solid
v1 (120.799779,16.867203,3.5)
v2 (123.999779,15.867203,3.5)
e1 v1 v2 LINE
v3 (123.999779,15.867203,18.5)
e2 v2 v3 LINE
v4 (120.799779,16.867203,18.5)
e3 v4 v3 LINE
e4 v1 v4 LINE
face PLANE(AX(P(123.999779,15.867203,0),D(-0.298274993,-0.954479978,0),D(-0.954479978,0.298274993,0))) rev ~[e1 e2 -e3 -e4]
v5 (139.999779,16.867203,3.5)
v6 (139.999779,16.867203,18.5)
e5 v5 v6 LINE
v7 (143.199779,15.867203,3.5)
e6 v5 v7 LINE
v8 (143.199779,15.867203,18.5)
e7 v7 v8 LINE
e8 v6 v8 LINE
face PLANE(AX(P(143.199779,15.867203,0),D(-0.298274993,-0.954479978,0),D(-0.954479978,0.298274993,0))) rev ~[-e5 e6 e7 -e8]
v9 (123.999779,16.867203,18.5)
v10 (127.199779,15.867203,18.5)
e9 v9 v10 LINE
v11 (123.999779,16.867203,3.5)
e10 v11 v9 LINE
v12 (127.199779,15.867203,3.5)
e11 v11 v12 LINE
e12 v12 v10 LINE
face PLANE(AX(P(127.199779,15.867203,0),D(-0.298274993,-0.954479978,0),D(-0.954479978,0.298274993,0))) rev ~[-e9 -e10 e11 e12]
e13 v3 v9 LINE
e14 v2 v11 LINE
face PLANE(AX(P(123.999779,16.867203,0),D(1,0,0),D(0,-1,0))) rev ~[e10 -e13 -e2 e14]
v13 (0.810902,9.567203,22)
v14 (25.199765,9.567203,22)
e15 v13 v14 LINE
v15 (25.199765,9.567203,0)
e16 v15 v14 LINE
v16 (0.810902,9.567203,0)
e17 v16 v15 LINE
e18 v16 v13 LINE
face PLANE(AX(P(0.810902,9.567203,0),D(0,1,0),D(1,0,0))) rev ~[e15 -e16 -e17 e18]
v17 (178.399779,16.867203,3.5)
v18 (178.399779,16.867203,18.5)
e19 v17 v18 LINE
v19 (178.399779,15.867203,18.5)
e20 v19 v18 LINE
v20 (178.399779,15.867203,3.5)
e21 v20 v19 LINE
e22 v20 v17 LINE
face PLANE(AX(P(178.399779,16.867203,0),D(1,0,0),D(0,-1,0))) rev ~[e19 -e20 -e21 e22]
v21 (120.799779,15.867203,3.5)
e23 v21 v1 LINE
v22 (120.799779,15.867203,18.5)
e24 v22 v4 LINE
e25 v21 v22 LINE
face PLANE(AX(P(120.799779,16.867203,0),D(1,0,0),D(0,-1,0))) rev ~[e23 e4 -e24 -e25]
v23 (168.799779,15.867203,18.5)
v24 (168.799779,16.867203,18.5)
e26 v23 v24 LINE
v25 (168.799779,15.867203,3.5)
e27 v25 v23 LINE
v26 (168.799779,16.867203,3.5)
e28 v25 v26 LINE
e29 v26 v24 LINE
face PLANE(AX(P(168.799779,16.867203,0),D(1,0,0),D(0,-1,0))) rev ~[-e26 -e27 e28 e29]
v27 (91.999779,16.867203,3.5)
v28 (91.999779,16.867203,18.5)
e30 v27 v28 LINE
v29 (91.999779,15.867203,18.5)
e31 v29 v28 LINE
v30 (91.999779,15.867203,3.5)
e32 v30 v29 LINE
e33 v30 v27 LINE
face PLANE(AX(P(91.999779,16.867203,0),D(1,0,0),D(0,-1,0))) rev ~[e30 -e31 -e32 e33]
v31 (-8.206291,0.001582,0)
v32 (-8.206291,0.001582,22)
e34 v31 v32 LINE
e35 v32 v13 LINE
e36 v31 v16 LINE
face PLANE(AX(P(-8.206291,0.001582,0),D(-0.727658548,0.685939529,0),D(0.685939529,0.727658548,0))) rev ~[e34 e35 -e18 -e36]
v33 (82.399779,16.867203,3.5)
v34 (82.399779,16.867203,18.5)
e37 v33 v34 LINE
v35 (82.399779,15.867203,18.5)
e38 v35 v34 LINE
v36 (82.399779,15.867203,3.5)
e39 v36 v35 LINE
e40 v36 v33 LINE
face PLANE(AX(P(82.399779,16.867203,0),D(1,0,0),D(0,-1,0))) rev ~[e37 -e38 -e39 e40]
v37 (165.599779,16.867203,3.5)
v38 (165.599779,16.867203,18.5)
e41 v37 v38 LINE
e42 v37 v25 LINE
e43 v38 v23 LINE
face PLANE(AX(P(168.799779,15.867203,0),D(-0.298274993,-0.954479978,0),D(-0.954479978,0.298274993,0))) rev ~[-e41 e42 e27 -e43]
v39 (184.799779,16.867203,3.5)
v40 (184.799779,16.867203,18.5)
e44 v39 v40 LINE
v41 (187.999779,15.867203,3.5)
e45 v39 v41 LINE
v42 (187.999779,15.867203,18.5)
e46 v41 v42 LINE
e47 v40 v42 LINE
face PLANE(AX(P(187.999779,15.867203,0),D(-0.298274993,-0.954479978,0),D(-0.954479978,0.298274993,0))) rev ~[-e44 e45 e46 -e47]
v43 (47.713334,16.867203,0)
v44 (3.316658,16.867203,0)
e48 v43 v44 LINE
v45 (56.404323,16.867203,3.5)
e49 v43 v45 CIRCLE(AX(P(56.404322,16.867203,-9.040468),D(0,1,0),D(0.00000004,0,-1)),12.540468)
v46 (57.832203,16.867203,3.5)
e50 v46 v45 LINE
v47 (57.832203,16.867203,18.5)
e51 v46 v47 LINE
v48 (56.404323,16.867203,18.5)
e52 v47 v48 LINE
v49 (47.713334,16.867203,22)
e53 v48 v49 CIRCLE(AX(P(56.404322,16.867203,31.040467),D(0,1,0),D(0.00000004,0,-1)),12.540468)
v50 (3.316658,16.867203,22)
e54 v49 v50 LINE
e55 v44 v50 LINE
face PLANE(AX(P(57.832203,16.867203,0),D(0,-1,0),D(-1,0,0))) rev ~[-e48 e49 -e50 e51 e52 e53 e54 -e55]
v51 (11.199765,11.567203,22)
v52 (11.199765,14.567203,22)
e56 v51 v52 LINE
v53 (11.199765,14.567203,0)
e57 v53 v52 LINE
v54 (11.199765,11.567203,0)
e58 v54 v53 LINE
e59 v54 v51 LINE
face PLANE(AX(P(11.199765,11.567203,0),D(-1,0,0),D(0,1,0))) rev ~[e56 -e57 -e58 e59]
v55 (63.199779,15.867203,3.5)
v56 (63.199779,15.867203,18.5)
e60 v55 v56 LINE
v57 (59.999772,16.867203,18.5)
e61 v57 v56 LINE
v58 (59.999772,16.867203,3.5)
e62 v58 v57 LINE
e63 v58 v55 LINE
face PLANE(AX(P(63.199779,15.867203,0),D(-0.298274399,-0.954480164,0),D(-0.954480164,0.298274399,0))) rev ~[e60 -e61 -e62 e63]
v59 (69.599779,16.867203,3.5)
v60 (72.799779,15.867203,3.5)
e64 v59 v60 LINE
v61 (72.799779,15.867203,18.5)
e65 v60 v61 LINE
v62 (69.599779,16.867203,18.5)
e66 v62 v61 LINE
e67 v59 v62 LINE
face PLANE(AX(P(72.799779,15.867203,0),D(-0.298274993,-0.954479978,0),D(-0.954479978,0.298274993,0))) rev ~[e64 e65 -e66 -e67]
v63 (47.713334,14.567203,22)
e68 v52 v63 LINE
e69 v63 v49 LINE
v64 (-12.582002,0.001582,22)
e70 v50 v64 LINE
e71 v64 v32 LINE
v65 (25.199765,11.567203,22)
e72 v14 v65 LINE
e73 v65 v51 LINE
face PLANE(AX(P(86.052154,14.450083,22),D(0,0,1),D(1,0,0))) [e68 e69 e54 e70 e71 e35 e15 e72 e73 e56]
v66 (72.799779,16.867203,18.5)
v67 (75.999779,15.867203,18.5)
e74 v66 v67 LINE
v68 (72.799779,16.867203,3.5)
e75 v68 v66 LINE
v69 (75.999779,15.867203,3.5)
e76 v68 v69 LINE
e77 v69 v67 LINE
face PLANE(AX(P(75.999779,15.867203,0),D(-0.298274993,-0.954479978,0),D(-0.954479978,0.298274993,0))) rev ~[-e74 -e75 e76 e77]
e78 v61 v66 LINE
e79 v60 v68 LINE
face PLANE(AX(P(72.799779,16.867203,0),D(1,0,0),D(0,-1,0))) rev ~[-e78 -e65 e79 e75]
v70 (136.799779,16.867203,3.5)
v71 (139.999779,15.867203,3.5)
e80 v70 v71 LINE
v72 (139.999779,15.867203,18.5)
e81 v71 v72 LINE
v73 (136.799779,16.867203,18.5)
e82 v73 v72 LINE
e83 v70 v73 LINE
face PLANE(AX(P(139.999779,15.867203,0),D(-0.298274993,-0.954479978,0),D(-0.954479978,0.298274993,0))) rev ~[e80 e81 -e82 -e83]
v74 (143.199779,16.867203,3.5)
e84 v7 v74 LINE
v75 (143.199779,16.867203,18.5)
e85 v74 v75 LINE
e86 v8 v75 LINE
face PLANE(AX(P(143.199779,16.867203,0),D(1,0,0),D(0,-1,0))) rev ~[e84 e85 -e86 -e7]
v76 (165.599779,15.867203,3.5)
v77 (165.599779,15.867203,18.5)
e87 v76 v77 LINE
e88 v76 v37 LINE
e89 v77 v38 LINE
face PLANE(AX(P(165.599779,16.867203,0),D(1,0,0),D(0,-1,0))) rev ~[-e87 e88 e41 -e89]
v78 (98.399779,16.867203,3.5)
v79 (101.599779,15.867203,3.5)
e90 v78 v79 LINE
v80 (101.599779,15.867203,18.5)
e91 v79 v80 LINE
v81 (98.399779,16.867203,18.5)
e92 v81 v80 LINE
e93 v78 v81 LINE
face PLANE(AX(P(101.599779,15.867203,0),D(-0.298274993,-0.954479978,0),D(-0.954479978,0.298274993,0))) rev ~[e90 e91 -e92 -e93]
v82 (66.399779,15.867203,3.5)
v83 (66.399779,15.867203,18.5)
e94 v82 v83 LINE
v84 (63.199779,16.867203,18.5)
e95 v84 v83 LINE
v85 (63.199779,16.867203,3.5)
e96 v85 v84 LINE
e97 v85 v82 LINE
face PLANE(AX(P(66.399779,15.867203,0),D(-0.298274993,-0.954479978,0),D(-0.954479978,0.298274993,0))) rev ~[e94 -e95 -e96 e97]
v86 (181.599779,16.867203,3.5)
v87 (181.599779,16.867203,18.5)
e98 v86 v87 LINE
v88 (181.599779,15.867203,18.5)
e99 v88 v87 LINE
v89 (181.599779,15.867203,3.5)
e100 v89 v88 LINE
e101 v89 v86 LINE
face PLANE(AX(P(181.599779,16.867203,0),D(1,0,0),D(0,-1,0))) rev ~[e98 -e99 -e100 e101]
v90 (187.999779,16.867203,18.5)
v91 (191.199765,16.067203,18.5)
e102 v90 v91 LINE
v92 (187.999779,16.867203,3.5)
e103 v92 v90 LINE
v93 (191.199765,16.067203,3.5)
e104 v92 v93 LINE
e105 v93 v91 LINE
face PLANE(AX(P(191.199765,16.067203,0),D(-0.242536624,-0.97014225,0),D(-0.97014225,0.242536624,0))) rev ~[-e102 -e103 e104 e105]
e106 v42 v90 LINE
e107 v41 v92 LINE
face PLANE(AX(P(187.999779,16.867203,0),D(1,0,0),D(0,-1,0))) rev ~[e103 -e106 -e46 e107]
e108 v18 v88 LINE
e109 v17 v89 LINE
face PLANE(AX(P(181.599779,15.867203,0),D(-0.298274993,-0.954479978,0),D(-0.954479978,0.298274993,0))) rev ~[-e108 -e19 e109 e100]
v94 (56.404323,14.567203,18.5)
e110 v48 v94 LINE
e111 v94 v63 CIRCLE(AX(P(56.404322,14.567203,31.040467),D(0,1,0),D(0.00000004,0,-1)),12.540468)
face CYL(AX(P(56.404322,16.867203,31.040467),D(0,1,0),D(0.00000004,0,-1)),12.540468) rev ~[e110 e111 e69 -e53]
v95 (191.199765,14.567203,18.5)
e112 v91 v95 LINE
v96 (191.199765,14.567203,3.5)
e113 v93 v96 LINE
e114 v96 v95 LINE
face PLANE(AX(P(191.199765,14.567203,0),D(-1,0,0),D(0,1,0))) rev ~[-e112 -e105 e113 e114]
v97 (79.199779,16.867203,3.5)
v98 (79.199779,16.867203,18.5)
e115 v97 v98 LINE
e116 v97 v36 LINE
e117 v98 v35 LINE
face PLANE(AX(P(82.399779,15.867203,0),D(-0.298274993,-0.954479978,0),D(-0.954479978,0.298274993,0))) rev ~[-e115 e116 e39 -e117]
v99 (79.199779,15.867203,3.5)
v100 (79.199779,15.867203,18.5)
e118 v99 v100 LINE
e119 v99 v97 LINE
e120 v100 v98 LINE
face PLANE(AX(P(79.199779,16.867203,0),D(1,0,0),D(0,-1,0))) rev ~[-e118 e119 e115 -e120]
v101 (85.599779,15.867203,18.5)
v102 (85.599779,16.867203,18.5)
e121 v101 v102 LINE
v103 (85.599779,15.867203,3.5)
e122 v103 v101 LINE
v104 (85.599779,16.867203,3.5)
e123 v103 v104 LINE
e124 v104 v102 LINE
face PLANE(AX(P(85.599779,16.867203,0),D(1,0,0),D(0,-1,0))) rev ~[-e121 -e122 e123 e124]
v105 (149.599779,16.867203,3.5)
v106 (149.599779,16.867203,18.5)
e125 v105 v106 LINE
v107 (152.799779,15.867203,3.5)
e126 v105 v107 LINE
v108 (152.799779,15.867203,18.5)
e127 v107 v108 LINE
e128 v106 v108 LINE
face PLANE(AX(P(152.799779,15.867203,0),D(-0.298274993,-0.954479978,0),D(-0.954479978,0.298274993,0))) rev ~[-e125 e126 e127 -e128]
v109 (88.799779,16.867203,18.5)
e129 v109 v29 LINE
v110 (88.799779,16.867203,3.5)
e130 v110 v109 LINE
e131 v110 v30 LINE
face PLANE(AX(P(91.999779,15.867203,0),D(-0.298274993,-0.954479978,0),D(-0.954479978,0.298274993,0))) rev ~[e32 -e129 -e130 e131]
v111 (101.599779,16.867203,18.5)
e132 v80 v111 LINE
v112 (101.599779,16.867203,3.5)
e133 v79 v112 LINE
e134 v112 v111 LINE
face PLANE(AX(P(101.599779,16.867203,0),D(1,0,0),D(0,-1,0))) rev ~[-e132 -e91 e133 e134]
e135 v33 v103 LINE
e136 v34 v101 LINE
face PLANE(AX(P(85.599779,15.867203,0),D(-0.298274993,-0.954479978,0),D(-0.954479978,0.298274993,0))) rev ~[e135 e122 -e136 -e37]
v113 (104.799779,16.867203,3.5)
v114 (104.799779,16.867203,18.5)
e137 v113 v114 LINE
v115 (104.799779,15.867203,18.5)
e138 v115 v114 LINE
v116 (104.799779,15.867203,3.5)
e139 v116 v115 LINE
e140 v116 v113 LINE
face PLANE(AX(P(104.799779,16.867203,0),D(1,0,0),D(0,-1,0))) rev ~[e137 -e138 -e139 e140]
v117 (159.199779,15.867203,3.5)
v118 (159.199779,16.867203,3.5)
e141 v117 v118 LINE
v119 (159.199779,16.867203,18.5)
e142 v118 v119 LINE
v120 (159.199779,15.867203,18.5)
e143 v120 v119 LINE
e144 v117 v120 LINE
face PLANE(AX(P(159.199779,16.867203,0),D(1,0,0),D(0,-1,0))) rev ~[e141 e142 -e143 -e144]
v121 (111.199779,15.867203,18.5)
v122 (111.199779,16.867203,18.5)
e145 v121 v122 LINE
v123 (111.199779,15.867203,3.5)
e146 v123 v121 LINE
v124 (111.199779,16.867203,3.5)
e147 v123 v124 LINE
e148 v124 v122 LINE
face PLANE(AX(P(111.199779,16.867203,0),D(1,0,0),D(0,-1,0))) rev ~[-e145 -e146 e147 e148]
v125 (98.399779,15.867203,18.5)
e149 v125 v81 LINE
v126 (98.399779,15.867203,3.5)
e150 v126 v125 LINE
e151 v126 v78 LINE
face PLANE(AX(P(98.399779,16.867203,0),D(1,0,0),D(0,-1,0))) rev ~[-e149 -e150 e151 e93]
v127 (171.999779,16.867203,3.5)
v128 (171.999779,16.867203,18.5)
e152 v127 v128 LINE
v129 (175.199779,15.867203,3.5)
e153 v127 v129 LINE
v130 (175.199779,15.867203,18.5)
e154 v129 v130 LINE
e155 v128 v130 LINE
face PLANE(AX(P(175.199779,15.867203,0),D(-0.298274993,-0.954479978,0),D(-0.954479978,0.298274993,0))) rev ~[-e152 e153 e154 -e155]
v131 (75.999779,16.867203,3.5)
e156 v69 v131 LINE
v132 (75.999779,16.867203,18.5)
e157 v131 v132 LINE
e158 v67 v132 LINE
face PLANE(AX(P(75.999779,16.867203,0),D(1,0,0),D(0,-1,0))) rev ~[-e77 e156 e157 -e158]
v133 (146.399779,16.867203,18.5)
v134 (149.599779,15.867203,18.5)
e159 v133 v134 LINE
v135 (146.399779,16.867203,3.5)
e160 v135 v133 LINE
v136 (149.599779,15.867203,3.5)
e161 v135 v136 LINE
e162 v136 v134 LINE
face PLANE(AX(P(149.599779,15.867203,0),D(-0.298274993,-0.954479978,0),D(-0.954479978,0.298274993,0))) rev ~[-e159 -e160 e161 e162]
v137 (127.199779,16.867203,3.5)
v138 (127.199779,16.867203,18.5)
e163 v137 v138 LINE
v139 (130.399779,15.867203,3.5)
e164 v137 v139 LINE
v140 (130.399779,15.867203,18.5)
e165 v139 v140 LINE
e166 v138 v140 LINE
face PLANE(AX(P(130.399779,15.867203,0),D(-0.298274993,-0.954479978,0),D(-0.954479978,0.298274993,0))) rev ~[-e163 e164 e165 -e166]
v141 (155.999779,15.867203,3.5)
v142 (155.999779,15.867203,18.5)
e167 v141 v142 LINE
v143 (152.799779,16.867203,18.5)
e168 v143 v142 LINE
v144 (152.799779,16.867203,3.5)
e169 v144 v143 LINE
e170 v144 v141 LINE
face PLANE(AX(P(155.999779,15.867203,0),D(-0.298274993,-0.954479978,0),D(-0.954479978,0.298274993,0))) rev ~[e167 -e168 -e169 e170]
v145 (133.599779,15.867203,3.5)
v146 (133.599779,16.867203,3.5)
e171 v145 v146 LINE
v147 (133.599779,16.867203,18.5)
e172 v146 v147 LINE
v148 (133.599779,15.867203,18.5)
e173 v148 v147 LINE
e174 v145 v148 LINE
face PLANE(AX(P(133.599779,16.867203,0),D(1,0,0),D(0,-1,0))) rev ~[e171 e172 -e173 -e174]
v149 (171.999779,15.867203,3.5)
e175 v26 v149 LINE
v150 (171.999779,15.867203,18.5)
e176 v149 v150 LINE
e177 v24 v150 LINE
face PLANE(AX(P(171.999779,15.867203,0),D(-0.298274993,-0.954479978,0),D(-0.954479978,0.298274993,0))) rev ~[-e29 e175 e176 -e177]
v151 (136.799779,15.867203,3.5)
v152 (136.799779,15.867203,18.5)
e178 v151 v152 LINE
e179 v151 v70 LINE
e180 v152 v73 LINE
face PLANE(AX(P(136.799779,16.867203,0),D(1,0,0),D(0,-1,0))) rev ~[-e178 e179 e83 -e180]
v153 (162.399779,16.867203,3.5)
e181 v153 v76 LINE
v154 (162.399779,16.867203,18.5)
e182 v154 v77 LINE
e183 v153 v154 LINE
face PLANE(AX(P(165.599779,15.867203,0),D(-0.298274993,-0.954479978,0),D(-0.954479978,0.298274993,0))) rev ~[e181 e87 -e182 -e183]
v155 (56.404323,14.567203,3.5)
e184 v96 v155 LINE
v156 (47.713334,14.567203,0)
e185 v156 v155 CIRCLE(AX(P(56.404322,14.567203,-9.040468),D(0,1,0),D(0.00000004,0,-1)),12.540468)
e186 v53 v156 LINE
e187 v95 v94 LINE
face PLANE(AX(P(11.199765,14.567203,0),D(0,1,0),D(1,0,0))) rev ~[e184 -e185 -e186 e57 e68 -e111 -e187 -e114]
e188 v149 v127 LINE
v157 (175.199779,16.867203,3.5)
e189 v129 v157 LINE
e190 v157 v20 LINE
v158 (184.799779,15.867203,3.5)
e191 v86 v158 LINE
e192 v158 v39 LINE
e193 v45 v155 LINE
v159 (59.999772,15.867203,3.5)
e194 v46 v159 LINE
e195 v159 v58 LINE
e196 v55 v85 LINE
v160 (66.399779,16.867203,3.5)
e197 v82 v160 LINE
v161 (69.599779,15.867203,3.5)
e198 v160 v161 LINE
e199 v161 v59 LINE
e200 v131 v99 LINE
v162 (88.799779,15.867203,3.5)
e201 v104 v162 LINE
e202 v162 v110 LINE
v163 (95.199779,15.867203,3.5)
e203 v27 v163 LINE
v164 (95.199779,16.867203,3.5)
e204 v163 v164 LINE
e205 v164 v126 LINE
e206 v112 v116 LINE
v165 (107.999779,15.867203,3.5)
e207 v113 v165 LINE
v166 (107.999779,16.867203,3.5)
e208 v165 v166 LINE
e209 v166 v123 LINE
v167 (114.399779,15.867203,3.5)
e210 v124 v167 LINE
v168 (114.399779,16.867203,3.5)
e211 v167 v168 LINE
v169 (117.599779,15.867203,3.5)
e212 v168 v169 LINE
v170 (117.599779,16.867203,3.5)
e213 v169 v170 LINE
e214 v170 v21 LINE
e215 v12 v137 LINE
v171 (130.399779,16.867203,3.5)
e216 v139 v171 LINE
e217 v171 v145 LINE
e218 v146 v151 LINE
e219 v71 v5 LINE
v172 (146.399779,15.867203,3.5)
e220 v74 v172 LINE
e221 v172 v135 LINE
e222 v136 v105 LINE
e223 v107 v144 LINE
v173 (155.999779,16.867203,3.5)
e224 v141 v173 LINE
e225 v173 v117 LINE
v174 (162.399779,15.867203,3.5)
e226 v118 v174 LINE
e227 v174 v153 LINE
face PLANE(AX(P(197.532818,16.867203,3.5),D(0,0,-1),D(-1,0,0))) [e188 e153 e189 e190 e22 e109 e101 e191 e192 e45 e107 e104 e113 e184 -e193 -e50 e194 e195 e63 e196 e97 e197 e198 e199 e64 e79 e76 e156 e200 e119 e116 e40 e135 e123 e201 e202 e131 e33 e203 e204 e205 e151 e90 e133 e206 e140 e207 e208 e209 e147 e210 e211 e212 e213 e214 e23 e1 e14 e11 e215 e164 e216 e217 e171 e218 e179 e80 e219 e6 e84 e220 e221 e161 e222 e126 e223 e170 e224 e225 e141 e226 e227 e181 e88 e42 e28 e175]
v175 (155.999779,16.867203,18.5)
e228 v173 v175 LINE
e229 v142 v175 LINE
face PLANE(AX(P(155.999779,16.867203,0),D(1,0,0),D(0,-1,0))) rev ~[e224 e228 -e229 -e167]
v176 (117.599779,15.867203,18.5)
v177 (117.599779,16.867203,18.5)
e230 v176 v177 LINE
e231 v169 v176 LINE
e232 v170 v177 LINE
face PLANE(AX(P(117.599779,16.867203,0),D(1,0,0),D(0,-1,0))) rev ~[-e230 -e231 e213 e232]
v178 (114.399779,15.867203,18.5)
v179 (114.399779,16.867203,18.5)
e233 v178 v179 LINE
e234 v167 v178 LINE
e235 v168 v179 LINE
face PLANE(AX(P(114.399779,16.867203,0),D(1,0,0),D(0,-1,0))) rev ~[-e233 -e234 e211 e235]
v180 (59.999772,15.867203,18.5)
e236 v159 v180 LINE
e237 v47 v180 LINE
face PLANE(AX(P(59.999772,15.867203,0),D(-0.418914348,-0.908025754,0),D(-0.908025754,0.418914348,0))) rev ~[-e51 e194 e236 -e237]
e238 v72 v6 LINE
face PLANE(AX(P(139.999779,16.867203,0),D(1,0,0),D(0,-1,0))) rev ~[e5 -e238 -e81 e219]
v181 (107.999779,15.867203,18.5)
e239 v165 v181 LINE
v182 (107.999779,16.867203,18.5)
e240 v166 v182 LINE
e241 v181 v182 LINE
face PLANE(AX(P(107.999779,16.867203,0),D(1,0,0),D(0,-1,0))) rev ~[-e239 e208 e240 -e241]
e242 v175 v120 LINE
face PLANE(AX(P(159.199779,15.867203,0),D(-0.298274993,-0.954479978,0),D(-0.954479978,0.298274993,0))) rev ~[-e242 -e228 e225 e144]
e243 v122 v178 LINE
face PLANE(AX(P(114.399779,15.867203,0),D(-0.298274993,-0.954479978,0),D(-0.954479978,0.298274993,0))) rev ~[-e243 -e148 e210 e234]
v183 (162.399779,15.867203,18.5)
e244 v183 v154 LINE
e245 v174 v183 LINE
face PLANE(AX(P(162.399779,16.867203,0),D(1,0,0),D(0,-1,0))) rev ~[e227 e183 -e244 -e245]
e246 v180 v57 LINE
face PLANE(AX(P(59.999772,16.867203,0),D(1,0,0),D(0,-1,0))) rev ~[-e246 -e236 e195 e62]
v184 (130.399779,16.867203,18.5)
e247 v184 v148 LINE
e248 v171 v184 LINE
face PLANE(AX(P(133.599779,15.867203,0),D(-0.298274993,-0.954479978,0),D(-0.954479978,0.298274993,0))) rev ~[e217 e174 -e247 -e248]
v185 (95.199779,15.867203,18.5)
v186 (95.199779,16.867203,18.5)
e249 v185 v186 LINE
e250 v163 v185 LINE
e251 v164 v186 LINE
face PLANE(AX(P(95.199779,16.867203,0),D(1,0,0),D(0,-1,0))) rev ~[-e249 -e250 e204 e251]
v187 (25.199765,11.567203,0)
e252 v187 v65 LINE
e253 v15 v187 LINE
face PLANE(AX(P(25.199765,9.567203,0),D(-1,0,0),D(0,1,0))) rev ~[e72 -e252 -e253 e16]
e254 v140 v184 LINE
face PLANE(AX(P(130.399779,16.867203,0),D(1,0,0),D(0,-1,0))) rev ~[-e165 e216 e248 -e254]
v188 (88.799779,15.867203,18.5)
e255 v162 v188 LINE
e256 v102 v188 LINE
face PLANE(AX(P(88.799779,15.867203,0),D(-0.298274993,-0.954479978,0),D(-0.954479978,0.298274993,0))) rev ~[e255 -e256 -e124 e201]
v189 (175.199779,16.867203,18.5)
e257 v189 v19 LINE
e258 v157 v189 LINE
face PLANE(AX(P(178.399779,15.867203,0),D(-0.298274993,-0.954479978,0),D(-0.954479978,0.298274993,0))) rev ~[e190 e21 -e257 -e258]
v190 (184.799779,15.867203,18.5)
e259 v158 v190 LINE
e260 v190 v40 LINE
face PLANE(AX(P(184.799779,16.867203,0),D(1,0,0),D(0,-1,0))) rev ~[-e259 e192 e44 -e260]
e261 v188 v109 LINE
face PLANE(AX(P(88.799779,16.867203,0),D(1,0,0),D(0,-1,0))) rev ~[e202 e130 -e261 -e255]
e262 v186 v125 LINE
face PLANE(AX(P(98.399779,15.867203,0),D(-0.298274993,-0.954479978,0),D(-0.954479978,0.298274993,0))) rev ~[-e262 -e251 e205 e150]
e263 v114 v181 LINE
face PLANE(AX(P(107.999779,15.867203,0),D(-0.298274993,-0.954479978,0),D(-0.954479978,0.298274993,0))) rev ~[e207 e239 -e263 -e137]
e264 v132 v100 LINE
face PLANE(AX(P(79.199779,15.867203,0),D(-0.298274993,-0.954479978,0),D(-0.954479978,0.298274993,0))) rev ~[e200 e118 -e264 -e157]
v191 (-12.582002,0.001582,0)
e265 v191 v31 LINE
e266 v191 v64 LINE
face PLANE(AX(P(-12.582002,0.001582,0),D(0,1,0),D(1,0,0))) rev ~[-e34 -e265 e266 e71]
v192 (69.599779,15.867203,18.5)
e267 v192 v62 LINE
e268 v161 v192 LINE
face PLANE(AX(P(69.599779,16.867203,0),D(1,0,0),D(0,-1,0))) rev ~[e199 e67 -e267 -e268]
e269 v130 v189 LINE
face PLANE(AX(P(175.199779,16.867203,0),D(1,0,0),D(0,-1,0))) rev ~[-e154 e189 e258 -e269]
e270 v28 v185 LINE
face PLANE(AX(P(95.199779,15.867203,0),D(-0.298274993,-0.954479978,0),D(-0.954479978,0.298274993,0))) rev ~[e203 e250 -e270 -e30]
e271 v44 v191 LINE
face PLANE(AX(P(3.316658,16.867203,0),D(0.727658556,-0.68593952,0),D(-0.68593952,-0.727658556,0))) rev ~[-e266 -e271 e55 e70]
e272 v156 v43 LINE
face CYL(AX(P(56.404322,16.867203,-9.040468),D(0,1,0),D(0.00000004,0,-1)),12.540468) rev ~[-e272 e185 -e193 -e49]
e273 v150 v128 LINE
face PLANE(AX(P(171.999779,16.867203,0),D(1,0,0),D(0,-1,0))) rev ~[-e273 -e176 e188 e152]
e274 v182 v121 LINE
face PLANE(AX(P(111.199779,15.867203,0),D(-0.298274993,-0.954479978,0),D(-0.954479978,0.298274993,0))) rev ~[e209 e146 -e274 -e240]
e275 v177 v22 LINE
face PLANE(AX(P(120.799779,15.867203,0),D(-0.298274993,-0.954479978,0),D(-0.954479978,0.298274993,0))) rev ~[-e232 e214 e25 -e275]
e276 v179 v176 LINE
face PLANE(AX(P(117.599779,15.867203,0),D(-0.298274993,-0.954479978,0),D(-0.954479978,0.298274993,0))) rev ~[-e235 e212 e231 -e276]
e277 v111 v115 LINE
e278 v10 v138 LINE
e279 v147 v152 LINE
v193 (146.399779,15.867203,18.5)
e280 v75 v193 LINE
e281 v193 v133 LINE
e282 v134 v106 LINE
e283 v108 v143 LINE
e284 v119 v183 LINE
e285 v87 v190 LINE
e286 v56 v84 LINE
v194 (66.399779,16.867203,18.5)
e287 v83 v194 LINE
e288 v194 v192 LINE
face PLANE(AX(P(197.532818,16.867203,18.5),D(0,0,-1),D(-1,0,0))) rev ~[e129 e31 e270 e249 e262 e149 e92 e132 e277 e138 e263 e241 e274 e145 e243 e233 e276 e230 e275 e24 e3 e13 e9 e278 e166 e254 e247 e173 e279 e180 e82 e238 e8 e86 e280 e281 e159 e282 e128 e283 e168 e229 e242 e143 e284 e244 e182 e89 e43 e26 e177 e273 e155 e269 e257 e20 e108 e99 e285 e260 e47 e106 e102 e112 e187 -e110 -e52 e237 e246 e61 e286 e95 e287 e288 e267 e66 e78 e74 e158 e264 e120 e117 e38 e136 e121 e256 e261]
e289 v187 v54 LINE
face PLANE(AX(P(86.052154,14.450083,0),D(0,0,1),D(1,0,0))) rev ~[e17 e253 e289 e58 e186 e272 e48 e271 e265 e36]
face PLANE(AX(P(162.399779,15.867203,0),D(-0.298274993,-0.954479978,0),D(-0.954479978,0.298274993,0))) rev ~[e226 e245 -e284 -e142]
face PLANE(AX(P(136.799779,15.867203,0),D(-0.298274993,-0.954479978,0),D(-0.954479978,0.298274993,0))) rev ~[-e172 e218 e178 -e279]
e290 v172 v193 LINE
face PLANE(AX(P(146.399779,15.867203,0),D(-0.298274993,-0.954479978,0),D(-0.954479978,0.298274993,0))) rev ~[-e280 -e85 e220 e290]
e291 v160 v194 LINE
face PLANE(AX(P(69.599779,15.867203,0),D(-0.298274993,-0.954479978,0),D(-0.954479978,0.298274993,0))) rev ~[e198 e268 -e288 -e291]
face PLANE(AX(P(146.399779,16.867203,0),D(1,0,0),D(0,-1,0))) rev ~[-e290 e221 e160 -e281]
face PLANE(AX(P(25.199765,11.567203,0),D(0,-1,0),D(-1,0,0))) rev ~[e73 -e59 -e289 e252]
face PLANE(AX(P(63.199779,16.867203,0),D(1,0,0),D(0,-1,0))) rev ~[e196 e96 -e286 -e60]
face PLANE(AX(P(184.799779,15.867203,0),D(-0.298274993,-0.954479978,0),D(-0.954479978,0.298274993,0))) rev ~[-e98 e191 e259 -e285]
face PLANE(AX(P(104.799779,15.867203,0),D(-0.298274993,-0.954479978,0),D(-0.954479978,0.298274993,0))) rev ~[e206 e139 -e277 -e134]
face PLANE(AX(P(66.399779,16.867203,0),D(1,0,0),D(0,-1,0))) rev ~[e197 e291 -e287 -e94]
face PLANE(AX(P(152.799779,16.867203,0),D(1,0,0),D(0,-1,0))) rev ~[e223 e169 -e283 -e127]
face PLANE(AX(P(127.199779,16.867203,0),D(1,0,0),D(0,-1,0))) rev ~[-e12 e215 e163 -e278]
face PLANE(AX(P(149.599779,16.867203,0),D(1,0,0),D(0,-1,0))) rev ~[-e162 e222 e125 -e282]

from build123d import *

# Parameters (mm, degrees)
PAD_DEPTH    = 22
POCKET_DEPTH = 20


with BuildPart() as part:
    # Sketch → Pad (new body)
    with BuildSketch(Plane.XY):
        Polygon((0.810902, 9.567203), (25.199765, 9.567203), (25.199765, 11.567203), (11.199765, 11.567203), (11.199765, 14.567203), (191.199765, 14.567203), (191.199765, 16.067203), (187.999779, 16.867203), (187.999779, 15.867203), (184.799779, 16.867203), (184.799779, 15.867203), (181.599779, 16.867203), (181.599779, 15.867203), (178.399779, 16.867203), (178.399779, 15.867203), (175.199779, 16.867203), (175.199779, 15.867203), (171.999779, 16.867203), (171.999779, 15.867203), (168.799779, 16.867203), (168.799779, 15.867203), (165.599779, 16.867203), (165.599779, 15.867203), (162.399779, 16.867203), (162.399779, 15.867203), (159.199779, 16.867203), (159.199779, 15.867203), (155.999779, 16.867203), (155.999779, 15.867203), (152.799779, 16.867203), (152.799779, 15.867203), (149.599779, 16.867203), (149.599779, 15.867203), (146.399779, 16.867203), (146.399779, 15.867203), (143.199779, 16.867203), (143.199779, 15.867203), (139.999779, 16.867203), (139.999779, 15.867203), (136.799779, 16.867203), (136.799779, 15.867203), (133.599779, 16.867203), (133.599779, 15.867203), (130.399779, 16.867203), (130.399779, 15.867203), (127.199779, 16.867203), (127.199779, 15.867203), (123.999779, 16.867203), (123.999779, 15.867203), (120.799779, 16.867203), (120.799779, 15.867203), (117.599779, 16.867203), (117.599779, 15.867203), (114.399779, 16.867203), (114.399779, 15.867203), (111.199779, 16.867203), (111.199779, 15.867203), (107.999779, 16.867203), (107.999779, 15.867203), (104.799779, 16.867203), (104.799779, 15.867203), (101.599779, 16.867203), (101.599779, 15.867203), (98.399779, 16.867203), (98.399779, 15.867203), (95.199779, 16.867203), (95.199779, 15.867203), (91.999779, 16.867203), (91.999779, 15.867203), (88.799779, 16.867203), (88.799779, 15.867203), (85.599779, 16.867203), (85.599779, 15.867203), (82.399779, 16.867203), (82.399779, 15.867203), (79.199779, 16.867203), (79.199779, 15.867203), (75.999779, 16.867203), (75.999779, 15.867203), (72.799779, 16.867203), (72.799779, 15.867203), (69.599779, 16.867203), (69.599779, 15.867203), (66.399779, 16.867203), (66.399779, 15.867203), (63.199779, 16.867203), (63.199779, 15.867203), (59.999772, 16.867203), (59.999772, 15.867203), (57.832203, 16.867203), (3.316658, 16.867203), (-12.582002, 0.001582), (-8.206291, 0.001582), align=None)
    extrude(amount=PAD_DEPTH)

    # Sketch001 (on Face91 of Pad) → Pocket (cut)
    with BuildSketch(Plane(origin=(0, 16.867203, 0), x_dir=(-1, 0, 0), z_dir=(0, 1, 0))):
        with BuildLine():
            ThreePointArc((-197.532818, 43.580935), (-210.073285, 31.040467), (-197.532818, 18.5))
            Line((-197.532818, 18.5), (-56.404323, 18.5))
            ThreePointArc((-56.404323, 18.5), (-43.863855, 31.040467), (-56.404323, 43.580935))
            Line((-197.532818, 43.580935), (-56.404323, 43.580935))
        make_face()
        with BuildLine():
            ThreePointArc((-197.532818, 3.5), (-210.073285, -9.040467), (-197.532818, -21.580935))
            Line((-197.532818, -21.580935), (-56.404323, -21.580935))
            ThreePointArc((-56.404323, -21.580935), (-43.863855, -9.040467), (-56.404323, 3.5))
            Line((-197.532818, 3.5), (-56.404323, 3.5))
        make_face()
    extrude(amount=-POCKET_DEPTH, mode=Mode.SUBTRACT)


solid = part.part
